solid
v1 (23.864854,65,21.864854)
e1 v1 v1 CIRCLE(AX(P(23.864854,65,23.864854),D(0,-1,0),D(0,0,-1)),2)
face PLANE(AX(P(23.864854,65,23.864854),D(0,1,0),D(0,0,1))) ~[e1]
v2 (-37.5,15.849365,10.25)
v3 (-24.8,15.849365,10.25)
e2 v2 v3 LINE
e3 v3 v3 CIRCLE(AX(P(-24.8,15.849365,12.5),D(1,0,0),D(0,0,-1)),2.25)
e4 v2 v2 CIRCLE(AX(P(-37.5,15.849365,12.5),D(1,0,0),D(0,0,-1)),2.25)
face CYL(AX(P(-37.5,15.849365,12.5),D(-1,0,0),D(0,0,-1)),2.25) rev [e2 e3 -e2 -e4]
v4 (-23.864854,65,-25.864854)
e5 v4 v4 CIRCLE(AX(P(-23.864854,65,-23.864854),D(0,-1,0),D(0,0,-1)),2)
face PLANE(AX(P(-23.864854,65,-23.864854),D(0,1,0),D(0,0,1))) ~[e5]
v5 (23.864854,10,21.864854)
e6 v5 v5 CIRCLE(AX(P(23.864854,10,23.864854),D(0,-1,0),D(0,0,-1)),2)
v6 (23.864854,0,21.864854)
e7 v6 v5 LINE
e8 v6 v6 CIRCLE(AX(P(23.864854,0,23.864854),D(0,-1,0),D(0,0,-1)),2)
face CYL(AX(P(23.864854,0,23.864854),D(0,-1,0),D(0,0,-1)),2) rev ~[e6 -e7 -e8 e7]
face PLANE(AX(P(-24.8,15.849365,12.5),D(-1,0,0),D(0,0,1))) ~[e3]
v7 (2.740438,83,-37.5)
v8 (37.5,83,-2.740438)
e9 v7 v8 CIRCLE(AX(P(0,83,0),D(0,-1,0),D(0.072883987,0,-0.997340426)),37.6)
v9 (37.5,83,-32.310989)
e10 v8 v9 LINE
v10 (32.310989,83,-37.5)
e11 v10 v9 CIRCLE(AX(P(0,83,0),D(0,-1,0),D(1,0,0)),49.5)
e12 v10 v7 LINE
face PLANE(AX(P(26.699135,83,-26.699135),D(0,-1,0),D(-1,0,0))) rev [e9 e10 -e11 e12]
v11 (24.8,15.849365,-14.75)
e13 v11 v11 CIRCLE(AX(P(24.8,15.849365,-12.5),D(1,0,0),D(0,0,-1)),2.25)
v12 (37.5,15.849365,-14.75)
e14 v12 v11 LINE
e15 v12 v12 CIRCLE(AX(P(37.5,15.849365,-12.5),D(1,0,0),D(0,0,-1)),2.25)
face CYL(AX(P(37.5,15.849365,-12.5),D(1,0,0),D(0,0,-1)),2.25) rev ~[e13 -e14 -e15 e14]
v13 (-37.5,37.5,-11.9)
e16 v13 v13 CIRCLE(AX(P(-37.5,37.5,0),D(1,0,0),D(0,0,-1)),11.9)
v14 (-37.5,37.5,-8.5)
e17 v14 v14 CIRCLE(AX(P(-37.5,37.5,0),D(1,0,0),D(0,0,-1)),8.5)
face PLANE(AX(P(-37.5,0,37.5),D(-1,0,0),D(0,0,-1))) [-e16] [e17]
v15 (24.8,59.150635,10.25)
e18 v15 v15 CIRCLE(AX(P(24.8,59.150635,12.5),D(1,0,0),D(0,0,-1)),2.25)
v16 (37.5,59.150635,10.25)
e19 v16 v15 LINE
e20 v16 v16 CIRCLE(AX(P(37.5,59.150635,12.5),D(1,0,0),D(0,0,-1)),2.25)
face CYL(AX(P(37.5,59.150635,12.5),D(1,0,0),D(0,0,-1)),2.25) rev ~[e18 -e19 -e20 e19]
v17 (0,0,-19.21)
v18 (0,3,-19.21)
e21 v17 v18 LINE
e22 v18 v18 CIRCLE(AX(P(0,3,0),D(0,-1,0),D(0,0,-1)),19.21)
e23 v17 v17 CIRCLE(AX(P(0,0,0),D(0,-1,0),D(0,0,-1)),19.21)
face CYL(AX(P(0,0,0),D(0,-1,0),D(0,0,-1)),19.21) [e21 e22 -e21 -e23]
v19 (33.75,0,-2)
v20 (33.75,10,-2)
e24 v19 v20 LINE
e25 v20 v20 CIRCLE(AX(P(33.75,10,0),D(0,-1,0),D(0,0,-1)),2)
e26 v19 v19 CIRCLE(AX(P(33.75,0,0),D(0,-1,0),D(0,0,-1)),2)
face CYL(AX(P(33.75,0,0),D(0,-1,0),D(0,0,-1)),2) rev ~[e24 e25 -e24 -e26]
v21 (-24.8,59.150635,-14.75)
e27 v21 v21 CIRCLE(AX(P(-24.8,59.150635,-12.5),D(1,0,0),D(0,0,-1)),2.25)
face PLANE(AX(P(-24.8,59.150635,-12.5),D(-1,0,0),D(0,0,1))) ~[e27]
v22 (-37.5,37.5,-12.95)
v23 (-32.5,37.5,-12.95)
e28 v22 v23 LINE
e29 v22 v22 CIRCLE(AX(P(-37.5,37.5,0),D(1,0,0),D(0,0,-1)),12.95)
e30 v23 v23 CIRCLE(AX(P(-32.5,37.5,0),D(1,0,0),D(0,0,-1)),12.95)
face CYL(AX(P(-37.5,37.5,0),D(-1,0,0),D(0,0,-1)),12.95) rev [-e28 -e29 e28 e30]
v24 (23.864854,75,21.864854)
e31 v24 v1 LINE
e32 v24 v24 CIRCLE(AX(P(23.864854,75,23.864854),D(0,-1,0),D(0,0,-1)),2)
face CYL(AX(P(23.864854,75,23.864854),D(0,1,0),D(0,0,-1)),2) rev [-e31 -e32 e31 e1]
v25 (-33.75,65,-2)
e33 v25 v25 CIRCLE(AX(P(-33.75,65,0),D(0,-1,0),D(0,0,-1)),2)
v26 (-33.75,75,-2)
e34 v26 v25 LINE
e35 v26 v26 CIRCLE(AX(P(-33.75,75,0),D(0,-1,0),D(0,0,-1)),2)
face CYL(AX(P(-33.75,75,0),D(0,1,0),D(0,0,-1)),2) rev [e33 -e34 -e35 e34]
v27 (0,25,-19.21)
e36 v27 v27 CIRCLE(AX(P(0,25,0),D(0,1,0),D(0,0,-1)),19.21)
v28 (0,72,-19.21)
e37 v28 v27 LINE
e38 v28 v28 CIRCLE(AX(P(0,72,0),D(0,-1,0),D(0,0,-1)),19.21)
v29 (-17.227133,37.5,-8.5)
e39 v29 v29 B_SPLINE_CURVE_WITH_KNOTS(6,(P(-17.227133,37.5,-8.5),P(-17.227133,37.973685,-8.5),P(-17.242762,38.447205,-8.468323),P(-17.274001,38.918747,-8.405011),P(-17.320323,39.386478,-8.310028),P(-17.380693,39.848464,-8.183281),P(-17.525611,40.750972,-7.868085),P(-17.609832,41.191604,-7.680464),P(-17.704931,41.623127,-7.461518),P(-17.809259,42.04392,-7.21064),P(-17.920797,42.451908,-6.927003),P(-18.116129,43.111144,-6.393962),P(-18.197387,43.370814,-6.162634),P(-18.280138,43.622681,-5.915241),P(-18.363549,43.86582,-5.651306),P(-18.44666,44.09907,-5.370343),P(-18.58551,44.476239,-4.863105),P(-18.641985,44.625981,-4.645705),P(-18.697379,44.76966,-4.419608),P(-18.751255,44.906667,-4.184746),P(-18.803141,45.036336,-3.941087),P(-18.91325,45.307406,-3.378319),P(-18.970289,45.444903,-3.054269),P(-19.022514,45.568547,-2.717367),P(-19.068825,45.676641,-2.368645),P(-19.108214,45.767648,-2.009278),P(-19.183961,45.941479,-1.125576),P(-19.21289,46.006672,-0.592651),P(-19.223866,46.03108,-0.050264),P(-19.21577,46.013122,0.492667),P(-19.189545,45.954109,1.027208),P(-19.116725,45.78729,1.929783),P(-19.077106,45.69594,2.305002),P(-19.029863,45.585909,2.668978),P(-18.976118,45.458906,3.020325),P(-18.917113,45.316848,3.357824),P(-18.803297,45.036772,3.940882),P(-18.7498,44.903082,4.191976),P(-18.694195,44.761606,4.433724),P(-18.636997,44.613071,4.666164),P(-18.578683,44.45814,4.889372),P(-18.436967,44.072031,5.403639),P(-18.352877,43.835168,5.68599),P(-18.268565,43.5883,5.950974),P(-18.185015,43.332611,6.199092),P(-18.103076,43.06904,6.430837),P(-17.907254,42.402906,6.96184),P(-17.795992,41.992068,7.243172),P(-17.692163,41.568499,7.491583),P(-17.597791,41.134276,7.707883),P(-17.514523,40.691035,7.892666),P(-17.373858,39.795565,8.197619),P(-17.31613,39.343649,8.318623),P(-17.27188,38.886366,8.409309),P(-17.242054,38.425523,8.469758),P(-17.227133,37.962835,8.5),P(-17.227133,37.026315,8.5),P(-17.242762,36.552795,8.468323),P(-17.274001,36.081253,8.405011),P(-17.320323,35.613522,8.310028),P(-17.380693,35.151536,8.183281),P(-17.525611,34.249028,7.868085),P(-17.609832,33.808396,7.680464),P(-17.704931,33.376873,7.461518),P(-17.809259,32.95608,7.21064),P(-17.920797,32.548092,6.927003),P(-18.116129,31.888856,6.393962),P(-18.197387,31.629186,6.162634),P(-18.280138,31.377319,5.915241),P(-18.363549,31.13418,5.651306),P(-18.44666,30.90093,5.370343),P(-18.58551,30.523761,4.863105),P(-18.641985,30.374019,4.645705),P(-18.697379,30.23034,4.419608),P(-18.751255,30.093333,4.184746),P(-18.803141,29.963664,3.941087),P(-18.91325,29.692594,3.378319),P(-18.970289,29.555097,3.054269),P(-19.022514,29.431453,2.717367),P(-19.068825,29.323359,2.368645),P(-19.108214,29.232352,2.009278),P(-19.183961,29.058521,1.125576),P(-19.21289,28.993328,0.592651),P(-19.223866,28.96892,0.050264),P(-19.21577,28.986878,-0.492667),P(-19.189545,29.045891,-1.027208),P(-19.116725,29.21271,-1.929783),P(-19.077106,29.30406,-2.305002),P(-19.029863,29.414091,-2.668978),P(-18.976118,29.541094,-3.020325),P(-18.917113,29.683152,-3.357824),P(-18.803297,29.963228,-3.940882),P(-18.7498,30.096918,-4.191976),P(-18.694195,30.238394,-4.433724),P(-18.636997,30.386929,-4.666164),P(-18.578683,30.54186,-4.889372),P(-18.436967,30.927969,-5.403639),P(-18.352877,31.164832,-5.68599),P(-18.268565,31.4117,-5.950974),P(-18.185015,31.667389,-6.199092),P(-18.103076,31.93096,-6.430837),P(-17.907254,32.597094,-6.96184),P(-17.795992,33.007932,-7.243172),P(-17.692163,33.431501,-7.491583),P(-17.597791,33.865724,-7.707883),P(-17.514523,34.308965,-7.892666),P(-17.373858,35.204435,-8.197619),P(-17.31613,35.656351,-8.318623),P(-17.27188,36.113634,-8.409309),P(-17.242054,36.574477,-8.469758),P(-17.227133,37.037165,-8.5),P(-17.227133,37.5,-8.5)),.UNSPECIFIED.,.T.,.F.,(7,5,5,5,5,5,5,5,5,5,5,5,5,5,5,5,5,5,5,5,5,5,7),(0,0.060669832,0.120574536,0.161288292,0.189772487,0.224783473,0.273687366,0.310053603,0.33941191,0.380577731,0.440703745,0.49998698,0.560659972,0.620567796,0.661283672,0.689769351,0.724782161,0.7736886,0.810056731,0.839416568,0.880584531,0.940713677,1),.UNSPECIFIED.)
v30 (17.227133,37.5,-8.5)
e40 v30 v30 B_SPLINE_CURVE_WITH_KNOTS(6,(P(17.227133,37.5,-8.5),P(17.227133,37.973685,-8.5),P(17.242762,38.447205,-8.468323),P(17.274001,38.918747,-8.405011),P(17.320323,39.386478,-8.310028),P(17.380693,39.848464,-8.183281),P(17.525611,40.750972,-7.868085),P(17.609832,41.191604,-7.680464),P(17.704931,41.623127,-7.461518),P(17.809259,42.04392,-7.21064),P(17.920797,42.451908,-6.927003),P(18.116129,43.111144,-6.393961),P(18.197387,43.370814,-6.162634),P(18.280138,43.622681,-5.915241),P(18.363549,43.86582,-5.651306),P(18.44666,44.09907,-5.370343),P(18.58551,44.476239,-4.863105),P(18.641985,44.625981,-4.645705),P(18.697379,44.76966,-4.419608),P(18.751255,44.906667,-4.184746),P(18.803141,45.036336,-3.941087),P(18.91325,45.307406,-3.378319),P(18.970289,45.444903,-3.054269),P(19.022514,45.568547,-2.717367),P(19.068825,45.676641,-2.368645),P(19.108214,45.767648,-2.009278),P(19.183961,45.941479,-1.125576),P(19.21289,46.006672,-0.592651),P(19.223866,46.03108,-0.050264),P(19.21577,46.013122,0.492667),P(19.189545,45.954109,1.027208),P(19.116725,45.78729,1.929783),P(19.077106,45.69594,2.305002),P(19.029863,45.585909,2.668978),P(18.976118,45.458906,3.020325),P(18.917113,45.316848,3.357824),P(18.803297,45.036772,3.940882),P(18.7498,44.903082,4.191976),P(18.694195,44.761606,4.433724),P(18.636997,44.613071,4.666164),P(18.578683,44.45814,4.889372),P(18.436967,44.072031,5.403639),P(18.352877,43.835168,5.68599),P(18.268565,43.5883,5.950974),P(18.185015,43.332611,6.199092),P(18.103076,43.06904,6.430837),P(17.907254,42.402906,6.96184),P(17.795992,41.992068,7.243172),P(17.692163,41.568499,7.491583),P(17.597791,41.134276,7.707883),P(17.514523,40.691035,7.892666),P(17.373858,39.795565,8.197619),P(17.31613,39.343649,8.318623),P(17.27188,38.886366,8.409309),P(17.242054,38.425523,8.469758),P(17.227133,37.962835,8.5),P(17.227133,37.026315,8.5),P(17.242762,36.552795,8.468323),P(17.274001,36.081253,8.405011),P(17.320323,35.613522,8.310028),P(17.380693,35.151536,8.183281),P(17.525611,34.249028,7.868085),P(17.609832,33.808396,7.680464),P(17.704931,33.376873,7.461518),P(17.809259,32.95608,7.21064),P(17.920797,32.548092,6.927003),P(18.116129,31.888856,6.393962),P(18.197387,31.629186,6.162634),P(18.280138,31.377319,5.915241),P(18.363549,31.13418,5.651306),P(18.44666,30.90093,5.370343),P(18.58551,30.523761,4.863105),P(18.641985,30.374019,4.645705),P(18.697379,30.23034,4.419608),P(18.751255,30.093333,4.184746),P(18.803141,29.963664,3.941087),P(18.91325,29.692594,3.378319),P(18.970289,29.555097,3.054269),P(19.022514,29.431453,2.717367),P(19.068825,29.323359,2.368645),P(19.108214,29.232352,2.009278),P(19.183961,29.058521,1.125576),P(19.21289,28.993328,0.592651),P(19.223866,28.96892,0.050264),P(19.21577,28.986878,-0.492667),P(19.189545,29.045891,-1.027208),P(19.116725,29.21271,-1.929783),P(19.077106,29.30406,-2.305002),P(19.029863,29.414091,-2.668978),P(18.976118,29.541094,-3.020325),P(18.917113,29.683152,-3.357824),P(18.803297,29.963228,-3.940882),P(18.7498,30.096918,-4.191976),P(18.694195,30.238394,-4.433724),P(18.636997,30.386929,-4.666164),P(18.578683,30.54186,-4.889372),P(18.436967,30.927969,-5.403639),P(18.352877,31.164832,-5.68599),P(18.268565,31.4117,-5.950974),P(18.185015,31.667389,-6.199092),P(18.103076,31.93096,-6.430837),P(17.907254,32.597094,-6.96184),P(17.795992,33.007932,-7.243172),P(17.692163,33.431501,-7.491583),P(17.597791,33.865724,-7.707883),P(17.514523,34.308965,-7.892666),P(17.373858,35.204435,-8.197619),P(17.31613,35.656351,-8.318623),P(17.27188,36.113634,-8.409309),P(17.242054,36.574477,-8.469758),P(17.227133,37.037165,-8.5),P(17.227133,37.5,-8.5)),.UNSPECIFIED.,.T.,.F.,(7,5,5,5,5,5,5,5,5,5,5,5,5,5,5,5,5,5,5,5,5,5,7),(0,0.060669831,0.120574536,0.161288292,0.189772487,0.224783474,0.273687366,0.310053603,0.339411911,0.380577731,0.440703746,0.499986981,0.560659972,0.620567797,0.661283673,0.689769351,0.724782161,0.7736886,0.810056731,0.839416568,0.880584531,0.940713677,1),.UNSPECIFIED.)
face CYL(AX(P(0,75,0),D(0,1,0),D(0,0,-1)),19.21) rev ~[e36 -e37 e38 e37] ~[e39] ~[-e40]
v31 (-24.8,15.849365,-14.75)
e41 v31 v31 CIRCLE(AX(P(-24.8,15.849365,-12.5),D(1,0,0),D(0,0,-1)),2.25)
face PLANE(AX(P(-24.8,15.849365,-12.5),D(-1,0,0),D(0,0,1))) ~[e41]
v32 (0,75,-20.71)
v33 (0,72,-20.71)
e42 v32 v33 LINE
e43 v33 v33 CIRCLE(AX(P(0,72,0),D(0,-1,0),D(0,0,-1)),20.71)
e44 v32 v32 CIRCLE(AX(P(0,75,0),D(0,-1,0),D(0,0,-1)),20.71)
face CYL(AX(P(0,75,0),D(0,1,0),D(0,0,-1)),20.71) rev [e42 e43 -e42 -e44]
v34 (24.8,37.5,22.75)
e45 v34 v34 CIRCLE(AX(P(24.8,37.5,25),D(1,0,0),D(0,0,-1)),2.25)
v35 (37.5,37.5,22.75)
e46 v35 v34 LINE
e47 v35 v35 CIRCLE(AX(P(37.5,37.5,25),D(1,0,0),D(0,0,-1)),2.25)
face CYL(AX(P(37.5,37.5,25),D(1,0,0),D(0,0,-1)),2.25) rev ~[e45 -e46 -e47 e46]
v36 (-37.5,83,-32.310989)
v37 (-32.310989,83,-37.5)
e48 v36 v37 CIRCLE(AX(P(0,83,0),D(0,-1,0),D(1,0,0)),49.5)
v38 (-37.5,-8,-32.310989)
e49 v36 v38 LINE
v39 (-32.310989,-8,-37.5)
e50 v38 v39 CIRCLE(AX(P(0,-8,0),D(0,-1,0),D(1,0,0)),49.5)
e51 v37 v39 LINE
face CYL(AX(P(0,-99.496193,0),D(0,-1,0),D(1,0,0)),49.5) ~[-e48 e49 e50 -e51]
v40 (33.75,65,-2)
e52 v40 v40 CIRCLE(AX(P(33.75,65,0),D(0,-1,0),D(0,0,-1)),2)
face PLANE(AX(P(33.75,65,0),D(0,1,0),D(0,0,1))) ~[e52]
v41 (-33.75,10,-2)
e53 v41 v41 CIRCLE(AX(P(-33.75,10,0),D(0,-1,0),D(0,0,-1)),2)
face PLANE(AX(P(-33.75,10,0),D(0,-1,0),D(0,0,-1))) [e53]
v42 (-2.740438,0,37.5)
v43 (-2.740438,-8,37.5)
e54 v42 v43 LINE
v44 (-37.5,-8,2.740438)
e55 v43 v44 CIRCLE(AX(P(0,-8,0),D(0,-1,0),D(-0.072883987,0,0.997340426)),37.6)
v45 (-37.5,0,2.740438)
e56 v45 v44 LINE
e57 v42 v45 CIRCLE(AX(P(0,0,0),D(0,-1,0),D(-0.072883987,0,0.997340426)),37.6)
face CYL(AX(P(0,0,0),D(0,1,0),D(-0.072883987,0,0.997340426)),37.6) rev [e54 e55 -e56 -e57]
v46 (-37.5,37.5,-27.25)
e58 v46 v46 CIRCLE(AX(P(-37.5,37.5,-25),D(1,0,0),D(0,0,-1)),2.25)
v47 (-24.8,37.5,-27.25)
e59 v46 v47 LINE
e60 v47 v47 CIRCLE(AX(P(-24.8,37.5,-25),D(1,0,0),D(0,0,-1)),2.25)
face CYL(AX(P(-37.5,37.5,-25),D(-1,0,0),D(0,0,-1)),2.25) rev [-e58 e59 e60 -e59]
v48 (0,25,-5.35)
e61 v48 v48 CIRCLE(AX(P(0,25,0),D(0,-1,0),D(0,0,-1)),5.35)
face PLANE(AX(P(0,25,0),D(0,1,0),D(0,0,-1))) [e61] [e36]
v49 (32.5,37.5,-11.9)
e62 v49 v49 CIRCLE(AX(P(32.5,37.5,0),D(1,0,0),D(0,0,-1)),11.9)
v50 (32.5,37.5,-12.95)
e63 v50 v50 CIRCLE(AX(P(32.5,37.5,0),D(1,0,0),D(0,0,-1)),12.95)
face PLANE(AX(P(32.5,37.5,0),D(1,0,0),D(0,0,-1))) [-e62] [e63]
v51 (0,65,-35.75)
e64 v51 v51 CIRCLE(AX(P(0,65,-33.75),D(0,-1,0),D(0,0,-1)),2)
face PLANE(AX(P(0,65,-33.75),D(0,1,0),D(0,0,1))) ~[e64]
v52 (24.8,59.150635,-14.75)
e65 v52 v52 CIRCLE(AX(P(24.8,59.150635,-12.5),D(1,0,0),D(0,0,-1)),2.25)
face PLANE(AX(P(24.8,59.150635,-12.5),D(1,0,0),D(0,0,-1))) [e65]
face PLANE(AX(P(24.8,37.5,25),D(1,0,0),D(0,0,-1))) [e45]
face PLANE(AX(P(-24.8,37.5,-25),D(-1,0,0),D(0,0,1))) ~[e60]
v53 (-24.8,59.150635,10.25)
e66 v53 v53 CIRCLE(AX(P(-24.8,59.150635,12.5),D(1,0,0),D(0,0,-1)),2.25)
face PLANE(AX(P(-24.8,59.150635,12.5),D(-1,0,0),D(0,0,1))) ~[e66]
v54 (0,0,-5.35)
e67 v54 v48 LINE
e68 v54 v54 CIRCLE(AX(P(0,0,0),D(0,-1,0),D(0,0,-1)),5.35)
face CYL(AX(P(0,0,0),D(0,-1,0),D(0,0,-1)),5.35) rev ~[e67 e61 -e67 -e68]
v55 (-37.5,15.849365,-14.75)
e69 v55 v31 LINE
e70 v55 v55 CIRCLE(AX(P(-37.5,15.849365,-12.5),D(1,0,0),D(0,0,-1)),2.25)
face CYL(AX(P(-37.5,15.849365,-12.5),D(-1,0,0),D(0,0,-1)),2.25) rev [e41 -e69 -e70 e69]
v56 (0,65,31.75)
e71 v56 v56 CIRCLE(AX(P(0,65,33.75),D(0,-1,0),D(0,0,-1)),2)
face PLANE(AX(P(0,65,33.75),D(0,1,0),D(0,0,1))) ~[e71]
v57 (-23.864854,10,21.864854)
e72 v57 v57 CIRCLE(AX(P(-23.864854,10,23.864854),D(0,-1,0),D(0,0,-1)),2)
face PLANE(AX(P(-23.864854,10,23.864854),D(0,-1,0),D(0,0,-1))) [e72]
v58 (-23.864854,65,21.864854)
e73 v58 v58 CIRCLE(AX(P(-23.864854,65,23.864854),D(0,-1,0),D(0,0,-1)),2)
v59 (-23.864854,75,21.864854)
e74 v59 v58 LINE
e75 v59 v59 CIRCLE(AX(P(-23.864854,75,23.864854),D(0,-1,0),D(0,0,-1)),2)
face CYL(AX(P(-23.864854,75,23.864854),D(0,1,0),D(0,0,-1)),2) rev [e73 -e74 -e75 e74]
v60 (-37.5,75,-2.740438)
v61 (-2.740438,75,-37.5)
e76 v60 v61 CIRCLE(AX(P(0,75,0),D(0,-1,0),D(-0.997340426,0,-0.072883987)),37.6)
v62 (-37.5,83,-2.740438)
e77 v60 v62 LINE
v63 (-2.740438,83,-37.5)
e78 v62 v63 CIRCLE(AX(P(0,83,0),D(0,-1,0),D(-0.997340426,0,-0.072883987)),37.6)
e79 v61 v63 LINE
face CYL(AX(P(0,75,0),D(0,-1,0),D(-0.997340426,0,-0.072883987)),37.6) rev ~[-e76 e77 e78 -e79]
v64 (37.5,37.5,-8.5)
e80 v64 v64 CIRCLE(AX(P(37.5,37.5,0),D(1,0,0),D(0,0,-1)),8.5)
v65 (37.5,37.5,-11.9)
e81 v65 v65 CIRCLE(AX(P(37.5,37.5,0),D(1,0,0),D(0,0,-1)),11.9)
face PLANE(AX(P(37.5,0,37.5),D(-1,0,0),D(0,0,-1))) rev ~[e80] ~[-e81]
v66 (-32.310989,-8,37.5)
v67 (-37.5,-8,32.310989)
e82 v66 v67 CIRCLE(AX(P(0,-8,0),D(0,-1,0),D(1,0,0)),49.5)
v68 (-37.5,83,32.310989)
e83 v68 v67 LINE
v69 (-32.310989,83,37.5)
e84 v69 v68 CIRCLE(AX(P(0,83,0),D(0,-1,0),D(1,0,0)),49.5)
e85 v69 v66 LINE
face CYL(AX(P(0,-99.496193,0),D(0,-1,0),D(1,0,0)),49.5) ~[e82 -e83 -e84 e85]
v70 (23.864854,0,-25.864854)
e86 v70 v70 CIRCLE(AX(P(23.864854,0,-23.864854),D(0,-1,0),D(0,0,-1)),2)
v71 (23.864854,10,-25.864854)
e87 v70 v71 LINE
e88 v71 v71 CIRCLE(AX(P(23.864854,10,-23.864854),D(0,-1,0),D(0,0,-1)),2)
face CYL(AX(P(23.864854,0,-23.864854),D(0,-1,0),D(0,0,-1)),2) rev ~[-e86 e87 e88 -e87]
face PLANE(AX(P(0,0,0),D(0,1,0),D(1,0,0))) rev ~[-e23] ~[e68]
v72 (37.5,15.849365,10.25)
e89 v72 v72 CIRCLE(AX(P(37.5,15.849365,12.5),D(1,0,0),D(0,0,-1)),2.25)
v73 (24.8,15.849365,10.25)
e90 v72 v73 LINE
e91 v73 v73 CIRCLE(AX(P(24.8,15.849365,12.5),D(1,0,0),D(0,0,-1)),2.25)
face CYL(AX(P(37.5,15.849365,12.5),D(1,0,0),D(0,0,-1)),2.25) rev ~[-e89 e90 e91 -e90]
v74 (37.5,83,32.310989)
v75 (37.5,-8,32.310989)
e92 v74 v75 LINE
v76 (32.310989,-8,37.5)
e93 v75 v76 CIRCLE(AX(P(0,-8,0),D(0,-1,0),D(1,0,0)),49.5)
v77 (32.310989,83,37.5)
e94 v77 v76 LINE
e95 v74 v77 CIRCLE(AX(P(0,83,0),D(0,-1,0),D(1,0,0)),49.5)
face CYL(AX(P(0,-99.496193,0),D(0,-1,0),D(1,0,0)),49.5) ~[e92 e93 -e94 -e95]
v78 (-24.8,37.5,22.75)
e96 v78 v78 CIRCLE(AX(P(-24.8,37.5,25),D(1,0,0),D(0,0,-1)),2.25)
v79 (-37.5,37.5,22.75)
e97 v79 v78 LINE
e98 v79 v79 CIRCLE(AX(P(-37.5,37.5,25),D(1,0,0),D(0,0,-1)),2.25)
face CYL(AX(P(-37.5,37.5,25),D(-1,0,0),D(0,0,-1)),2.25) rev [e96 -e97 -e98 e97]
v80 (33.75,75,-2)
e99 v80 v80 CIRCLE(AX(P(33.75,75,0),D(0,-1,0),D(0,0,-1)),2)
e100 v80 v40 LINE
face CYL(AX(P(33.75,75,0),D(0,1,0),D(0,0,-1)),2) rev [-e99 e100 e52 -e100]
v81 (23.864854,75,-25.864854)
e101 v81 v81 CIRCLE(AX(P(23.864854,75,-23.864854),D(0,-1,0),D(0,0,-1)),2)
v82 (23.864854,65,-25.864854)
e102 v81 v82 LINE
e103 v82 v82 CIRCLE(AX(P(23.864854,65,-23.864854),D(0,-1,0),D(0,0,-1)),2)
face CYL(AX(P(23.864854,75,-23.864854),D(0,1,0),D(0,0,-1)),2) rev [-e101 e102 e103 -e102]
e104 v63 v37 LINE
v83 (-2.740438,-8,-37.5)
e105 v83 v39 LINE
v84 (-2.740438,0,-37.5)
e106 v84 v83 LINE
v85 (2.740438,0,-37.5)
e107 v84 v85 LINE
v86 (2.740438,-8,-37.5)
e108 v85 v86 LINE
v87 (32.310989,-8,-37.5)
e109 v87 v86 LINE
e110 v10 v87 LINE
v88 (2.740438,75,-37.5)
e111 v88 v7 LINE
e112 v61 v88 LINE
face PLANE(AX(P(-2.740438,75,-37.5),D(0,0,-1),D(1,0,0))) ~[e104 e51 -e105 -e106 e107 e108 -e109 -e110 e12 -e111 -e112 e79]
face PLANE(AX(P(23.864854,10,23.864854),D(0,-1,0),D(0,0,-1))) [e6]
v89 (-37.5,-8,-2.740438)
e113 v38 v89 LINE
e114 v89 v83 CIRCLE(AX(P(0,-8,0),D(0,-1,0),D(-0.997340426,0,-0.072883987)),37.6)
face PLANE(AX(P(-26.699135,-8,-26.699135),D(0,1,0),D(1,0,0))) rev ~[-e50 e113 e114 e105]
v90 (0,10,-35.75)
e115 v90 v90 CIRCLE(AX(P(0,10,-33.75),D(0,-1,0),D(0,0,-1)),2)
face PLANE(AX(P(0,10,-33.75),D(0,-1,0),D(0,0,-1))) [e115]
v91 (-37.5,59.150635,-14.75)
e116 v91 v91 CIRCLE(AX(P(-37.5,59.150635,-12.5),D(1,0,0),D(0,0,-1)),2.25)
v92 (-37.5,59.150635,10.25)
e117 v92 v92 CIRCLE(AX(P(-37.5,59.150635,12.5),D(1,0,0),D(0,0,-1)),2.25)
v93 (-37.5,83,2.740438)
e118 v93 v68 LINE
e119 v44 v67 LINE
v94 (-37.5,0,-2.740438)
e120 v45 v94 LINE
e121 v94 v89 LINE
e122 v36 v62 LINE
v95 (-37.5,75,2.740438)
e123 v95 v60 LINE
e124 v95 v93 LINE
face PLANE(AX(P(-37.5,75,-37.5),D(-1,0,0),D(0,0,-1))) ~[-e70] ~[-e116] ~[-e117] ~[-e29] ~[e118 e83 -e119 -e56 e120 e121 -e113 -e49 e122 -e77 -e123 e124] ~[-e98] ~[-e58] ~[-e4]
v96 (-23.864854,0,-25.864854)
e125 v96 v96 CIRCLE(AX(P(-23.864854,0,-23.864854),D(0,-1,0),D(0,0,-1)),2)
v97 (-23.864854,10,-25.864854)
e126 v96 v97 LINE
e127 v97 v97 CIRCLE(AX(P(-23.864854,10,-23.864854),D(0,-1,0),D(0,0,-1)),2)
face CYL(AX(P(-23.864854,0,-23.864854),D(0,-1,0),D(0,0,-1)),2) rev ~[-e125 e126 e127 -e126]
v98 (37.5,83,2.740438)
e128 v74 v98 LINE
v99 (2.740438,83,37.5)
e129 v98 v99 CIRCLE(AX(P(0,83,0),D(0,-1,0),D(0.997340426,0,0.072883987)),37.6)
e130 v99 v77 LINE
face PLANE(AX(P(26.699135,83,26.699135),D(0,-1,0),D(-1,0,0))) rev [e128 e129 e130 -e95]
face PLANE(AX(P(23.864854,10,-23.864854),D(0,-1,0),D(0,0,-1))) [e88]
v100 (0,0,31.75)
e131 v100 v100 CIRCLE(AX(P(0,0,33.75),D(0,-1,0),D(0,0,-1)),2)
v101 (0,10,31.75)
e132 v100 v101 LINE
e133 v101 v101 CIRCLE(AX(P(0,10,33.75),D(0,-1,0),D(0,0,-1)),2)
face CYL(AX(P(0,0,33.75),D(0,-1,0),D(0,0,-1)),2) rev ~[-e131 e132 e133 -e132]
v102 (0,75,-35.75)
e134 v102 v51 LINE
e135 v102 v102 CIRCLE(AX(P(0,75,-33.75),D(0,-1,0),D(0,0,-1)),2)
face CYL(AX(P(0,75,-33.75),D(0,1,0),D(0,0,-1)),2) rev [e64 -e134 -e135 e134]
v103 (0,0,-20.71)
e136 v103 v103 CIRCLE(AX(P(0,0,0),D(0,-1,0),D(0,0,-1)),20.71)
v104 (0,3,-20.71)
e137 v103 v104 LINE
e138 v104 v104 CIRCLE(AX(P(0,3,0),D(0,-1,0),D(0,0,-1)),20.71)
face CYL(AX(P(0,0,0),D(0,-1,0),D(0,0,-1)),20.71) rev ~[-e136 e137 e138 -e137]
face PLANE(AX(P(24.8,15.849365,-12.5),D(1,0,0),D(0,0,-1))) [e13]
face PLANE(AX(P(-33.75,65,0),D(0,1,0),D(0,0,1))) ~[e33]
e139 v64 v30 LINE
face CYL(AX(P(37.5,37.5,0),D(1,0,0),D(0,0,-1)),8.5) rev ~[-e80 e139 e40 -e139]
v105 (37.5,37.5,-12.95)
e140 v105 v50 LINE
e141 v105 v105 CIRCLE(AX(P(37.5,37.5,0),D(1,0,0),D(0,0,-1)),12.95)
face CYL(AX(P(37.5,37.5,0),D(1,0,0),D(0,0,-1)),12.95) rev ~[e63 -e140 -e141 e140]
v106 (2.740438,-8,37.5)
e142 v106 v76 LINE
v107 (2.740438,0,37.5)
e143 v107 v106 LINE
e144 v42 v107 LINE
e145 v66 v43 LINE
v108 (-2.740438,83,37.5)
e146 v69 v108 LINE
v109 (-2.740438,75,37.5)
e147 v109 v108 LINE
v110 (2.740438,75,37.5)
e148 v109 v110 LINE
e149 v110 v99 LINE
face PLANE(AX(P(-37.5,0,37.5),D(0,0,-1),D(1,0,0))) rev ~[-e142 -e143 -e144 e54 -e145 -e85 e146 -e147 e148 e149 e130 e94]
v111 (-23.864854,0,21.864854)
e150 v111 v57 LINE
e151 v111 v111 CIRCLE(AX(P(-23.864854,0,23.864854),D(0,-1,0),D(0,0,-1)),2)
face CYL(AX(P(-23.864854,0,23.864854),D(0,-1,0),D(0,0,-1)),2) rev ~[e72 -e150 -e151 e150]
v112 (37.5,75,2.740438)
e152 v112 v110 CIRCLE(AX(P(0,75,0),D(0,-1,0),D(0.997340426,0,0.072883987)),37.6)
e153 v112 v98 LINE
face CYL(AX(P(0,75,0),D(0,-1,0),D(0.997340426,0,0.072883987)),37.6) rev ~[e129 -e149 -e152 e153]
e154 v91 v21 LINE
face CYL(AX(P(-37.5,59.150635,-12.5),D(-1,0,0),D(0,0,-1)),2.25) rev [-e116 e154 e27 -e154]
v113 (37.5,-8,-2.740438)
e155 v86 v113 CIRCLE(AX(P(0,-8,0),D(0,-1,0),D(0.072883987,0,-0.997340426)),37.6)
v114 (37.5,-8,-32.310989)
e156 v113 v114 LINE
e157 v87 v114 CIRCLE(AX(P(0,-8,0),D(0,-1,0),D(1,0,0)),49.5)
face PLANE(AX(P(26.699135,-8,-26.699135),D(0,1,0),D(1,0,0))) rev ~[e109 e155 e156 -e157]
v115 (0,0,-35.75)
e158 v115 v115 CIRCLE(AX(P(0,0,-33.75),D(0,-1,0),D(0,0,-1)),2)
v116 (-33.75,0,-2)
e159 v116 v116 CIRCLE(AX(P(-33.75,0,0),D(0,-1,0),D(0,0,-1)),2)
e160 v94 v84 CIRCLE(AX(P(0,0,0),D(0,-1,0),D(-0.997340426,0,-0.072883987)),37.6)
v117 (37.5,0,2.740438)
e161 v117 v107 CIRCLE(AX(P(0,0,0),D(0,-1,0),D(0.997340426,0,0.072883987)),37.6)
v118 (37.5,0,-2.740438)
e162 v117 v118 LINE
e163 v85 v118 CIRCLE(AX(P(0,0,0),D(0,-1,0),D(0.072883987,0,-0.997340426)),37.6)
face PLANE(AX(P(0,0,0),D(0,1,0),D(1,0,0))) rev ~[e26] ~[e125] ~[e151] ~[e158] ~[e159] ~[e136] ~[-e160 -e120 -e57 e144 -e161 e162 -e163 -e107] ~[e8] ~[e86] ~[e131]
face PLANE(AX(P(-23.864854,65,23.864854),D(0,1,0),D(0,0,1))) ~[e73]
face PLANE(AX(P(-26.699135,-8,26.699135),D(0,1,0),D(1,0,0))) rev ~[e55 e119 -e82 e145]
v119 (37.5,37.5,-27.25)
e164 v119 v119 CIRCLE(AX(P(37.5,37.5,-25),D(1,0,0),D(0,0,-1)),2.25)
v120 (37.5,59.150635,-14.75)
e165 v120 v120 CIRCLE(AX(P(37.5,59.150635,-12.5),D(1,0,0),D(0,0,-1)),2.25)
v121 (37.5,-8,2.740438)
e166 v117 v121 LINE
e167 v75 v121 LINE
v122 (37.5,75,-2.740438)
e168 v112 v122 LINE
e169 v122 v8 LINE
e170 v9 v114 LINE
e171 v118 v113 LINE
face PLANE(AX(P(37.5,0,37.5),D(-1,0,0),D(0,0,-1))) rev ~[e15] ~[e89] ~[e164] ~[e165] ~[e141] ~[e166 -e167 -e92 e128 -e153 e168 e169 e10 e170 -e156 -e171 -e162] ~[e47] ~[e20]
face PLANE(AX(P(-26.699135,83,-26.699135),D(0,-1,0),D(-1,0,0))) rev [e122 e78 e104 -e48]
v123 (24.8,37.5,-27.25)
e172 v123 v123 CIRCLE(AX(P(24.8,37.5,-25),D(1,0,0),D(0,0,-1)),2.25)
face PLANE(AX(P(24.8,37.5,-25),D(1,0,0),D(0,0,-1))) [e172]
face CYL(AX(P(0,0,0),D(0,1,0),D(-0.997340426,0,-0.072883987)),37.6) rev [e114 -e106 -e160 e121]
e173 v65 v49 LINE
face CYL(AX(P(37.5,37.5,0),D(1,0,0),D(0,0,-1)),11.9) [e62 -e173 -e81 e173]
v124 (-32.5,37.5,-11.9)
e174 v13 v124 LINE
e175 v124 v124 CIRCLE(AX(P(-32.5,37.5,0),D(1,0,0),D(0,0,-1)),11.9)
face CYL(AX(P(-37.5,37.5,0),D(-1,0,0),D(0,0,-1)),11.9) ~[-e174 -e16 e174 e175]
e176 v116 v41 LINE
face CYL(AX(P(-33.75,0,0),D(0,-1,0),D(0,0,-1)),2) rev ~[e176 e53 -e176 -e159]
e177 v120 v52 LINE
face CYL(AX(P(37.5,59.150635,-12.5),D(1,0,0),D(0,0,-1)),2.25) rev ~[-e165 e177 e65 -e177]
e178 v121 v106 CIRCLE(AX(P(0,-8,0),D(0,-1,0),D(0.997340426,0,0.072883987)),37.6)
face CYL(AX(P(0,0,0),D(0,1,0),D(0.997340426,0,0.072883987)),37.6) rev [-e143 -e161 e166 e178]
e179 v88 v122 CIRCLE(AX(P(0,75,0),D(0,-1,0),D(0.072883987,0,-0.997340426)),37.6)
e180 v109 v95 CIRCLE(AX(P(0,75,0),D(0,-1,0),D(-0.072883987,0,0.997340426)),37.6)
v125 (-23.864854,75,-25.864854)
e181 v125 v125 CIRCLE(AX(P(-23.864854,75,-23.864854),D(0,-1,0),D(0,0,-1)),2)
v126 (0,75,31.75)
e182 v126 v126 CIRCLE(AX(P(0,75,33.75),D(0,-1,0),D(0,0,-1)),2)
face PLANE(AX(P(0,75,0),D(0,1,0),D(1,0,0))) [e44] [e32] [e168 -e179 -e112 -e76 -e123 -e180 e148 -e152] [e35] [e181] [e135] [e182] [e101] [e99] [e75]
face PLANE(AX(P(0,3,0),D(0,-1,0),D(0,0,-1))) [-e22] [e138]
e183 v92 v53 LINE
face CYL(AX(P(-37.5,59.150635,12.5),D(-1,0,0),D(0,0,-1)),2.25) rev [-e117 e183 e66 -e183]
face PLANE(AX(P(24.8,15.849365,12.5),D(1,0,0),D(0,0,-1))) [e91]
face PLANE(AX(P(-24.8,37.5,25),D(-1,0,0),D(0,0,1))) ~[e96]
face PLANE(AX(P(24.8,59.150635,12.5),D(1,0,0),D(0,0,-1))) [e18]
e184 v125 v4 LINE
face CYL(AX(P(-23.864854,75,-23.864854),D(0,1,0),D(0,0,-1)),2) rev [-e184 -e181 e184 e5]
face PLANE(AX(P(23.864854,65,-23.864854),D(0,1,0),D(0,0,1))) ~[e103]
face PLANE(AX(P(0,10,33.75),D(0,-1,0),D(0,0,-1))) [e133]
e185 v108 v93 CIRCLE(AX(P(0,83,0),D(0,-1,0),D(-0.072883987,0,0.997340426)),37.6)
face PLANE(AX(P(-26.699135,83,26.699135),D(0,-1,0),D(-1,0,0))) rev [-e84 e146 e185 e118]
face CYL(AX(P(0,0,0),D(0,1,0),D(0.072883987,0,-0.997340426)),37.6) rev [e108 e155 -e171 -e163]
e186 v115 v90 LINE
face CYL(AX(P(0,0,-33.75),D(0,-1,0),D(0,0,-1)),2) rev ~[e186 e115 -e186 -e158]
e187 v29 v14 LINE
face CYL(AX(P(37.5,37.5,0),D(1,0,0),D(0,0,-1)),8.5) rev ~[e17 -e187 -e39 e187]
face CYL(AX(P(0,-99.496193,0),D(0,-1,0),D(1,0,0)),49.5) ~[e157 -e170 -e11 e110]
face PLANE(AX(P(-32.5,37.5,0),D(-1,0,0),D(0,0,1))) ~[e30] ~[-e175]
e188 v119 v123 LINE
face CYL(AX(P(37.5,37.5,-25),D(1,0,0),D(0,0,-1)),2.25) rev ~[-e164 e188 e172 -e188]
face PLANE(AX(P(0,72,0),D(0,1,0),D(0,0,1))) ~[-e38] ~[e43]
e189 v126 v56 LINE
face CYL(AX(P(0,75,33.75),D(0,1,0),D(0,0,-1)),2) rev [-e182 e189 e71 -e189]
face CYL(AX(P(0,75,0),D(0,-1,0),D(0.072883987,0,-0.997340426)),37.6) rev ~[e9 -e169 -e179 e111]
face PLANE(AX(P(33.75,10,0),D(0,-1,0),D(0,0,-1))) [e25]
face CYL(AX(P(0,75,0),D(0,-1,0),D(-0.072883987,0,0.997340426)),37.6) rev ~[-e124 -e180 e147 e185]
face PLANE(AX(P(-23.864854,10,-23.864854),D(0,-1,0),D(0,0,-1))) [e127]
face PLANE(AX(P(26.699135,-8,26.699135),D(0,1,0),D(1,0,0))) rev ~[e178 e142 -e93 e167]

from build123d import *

# Parameters (mm, degrees)
SKETCH1_W                = 75
SKETCH1_H                = 75
BOSS_EXTRUDE1_DEPTH      = 75
SKETCH2_R                = 5.35
CUT_EXTRUDE1_DEPTH       = 92.855865354
SKETCH5_R                = 8.5
CUT_EXTRUDE2_DEPTH       = 113.5
SKETCH7_R                = 20.71
SKETCH7_R_2              = 19.21
CUT_EXTRUDE3_DEPTH       = 3
SKETCH11_R               = 2
CUT_EXTRUDE4_DEPTH       = 10
SKETCH13_R               = 19.21
CUT_EXTRUDE7_DEPTH       = 50
SKETCH19_R               = 12.95
SKETCH19_R_2             = 11.9
CUT_EXTRUDE9_DEPTH       = 5
SKETCH20_R               = 2.25
CUT_EXTRUDE10_DEPTH      = 12.7
BOSS_EXTRUDE2_DEPTH      = 8
CUT_EXTRUDE14_DEPTH      = 99.496192858
CUT_EXTRUDE14_DEPTH_BACK = 99.496192858
SKETCH24_OUTSIDE_W       = 104.95
SKETCH24_OUTSIDE_H       = 104.95
SKETCH24_OUTSIDE_R       = 49.5


with BuildPart() as part:
    # Sketch1 → Boss-Extrude1 (new body)
    with BuildSketch(Plane(origin=(0, 0, 0), x_dir=(1, 0, 0), z_dir=(0, 1, 0))):
        Rectangle(SKETCH1_W, SKETCH1_H)
    extrude(amount=BOSS_EXTRUDE1_DEPTH)

    # Sketch2 → Cut-Extrude1 (cut, through all)
    with BuildSketch(Plane(origin=(0, 0, 0), x_dir=(-1, 0, 0), z_dir=(0, -1, 0))):
        with Locations(Location((0, 0, 0), (0, 0, 90))):
            Circle(SKETCH2_R)
    extrude(amount=-CUT_EXTRUDE1_DEPTH, mode=Mode.SUBTRACT)

    # Sketch5 → Cut-Extrude2 (cut, through all)
    with BuildSketch(Plane(origin=(37.5, 0, 0), x_dir=(0, 0, -1), z_dir=(1, 0, 0))):
        with Locations((0, 37.5)):
            Circle(SKETCH5_R)
    extrude(amount=-CUT_EXTRUDE2_DEPTH, mode=Mode.SUBTRACT)

    # Sketch7 → Cut-Extrude3 (cut)
    with BuildSketch(Plane.XZ):
        with Locations(Location((0, 0, 0), (0, 0, 270))):
            Circle(SKETCH7_R)
        with Locations(Location((0, 0, 0), (0, 0, 270))):
            Circle(SKETCH7_R_2, mode=Mode.SUBTRACT)
    cut_extrude3 = extrude(amount=-CUT_EXTRUDE3_DEPTH, mode=Mode.SUBTRACT)

    # Sketch11 → Cut-Extrude4 (cut)
    with BuildSketch(Plane.XZ):
        with Locations(Location((-33.75, 0, 0), (0, 0, 270))):
            Circle(SKETCH11_R)
        with Locations(Location((-23.864853865, 23.864853865, 0), (0, 0, 270))):
            Circle(SKETCH11_R)
        with Locations(Location((0, 33.75, 0), (0, 0, 270))):
            Circle(SKETCH11_R)
        with Locations(Location((23.864853865, 23.864853865, 0), (0, 0, 270))):
            Circle(SKETCH11_R)
        with Locations(Location((33.75, 0, 0), (0, 0, 270))):
            Circle(SKETCH11_R)
        with Locations(Location((23.864853865, -23.864853865, 0), (0, 0, 270))):
            Circle(SKETCH11_R)
        with Locations(Location((0, -33.75, 0), (0, 0, 270))):
            Circle(SKETCH11_R)
        with Locations(Location((-23.864853865, -23.864853865, 0), (0, 0, 270))):
            Circle(SKETCH11_R)
    cut_extrude4 = extrude(amount=-CUT_EXTRUDE4_DEPTH, mode=Mode.SUBTRACT)

    # Mirror1: Cut-Extrude3, Cut-Extrude4 across plane
    add(cut_extrude3.mirror(Plane.ZX.offset(37.5)), mode=Mode.SUBTRACT)
    add(cut_extrude4.mirror(Plane.ZX.offset(37.5)), mode=Mode.SUBTRACT)

    # Sketch13 → Cut-Extrude7 (cut)
    with BuildSketch(Plane(origin=(0, 75, 0), x_dir=(1, 0, 0), z_dir=(0, 1, 0))):
        with Locations(Location((0, 0, 0), (0, 0, 90))):
            Circle(SKETCH13_R)
    extrude(amount=-CUT_EXTRUDE7_DEPTH, mode=Mode.SUBTRACT)

    # Sketch19 → Cut-Extrude9 (cut)
    with BuildSketch(Plane(origin=(37.5, 0, 0), x_dir=(0, 0, -1), z_dir=(1, 0, 0))):
        with Locations((0, 37.5)):
            Circle(SKETCH19_R)
        with Locations((0, 37.5)):
            Circle(SKETCH19_R_2, mode=Mode.SUBTRACT)
    cut_extrude9 = extrude(amount=-CUT_EXTRUDE9_DEPTH, mode=Mode.SUBTRACT)

    # Sketch20 → Cut-Extrude10 (cut)
    with BuildSketch(Plane(origin=(37.5, 0, 0), x_dir=(0, 0, -1), z_dir=(1, 0, 0))):
        with Locations((-25, 37.5)):
            Circle(SKETCH20_R)
        with Locations((-12.5, 59.150635095)):
            Circle(SKETCH20_R)
        with Locations((12.5, 59.150635095)):
            Circle(SKETCH20_R)
        with Locations((25, 37.5)):
            Circle(SKETCH20_R)
        with Locations((12.5, 15.849364905)):
            Circle(SKETCH20_R)
        with Locations((-12.5, 15.849364905)):
            Circle(SKETCH20_R)
    cut_extrude10 = extrude(amount=-CUT_EXTRUDE10_DEPTH, mode=Mode.SUBTRACT)

    # Mirror4: Cut-Extrude9, Cut-Extrude10 across plane
    add(cut_extrude9.mirror(Plane.ZY), mode=Mode.SUBTRACT)
    add(cut_extrude10.mirror(Plane.ZY), mode=Mode.SUBTRACT)

    # Sketch25 → Boss-Extrude2 (add)
    with BuildSketch(Plane(origin=(0, 0, 0), x_dir=(1, 0, 0), z_dir=(0, 1, 0))):
        with BuildLine():
            Line((-37.5, 37.5), (-37.5, 2.740437921))
            ThreePointArc((-37.5, 2.740437921), (-26.587214973, 26.587214973), (-2.740437921, 37.5))
            Line((-2.740437921, 37.5), (-37.5, 37.5))
        make_face()
        with BuildLine():
            Line((37.5, 37.5), (2.740437921, 37.5))
            ThreePointArc((2.740437921, 37.5), (26.587214973, 26.587214973), (37.5, 2.740437921))
            Line((37.5, 2.740437921), (37.5, 37.5))
        make_face()
        with BuildLine():
            Line((-37.5, -37.5), (-2.740437921, -37.5))
            ThreePointArc((-2.740437921, -37.5), (-26.587214973, -26.587214973), (-37.5, -2.740437921))
            Line((-37.5, -2.740437921), (-37.5, -37.5))
        make_face()
        with BuildLine():
            Line((37.5, -37.5), (37.5, -2.740437921))
            ThreePointArc((37.5, -2.740437921), (26.587214973, -26.587214973), (2.740437921, -37.5))
            Line((2.740437921, -37.5), (37.5, -37.5))
        make_face()
    boss_extrude2 = extrude(amount=-BOSS_EXTRUDE2_DEPTH)

    # Mirror5: Boss-Extrude2 across plane
    add(boss_extrude2.mirror(Plane(origin=(0, 37.5, 0), x_dir=(0, 0, 1), z_dir=(0, -1, 0))))

    # Sketch24 outside → Cut-Extrude14 (cut, two sides: drawn at the far end of the back side and taken through both)
    with BuildSketch(Plane(origin=(0, 0, 0), x_dir=(1, 0, 0), z_dir=(0, 1, 0)).offset(-CUT_EXTRUDE14_DEPTH_BACK)):
        Rectangle(SKETCH24_OUTSIDE_W, SKETCH24_OUTSIDE_H)
        Circle(SKETCH24_OUTSIDE_R, mode=Mode.SUBTRACT)
    extrude(amount=CUT_EXTRUDE14_DEPTH + CUT_EXTRUDE14_DEPTH_BACK, mode=Mode.SUBTRACT)


solid = part.part
